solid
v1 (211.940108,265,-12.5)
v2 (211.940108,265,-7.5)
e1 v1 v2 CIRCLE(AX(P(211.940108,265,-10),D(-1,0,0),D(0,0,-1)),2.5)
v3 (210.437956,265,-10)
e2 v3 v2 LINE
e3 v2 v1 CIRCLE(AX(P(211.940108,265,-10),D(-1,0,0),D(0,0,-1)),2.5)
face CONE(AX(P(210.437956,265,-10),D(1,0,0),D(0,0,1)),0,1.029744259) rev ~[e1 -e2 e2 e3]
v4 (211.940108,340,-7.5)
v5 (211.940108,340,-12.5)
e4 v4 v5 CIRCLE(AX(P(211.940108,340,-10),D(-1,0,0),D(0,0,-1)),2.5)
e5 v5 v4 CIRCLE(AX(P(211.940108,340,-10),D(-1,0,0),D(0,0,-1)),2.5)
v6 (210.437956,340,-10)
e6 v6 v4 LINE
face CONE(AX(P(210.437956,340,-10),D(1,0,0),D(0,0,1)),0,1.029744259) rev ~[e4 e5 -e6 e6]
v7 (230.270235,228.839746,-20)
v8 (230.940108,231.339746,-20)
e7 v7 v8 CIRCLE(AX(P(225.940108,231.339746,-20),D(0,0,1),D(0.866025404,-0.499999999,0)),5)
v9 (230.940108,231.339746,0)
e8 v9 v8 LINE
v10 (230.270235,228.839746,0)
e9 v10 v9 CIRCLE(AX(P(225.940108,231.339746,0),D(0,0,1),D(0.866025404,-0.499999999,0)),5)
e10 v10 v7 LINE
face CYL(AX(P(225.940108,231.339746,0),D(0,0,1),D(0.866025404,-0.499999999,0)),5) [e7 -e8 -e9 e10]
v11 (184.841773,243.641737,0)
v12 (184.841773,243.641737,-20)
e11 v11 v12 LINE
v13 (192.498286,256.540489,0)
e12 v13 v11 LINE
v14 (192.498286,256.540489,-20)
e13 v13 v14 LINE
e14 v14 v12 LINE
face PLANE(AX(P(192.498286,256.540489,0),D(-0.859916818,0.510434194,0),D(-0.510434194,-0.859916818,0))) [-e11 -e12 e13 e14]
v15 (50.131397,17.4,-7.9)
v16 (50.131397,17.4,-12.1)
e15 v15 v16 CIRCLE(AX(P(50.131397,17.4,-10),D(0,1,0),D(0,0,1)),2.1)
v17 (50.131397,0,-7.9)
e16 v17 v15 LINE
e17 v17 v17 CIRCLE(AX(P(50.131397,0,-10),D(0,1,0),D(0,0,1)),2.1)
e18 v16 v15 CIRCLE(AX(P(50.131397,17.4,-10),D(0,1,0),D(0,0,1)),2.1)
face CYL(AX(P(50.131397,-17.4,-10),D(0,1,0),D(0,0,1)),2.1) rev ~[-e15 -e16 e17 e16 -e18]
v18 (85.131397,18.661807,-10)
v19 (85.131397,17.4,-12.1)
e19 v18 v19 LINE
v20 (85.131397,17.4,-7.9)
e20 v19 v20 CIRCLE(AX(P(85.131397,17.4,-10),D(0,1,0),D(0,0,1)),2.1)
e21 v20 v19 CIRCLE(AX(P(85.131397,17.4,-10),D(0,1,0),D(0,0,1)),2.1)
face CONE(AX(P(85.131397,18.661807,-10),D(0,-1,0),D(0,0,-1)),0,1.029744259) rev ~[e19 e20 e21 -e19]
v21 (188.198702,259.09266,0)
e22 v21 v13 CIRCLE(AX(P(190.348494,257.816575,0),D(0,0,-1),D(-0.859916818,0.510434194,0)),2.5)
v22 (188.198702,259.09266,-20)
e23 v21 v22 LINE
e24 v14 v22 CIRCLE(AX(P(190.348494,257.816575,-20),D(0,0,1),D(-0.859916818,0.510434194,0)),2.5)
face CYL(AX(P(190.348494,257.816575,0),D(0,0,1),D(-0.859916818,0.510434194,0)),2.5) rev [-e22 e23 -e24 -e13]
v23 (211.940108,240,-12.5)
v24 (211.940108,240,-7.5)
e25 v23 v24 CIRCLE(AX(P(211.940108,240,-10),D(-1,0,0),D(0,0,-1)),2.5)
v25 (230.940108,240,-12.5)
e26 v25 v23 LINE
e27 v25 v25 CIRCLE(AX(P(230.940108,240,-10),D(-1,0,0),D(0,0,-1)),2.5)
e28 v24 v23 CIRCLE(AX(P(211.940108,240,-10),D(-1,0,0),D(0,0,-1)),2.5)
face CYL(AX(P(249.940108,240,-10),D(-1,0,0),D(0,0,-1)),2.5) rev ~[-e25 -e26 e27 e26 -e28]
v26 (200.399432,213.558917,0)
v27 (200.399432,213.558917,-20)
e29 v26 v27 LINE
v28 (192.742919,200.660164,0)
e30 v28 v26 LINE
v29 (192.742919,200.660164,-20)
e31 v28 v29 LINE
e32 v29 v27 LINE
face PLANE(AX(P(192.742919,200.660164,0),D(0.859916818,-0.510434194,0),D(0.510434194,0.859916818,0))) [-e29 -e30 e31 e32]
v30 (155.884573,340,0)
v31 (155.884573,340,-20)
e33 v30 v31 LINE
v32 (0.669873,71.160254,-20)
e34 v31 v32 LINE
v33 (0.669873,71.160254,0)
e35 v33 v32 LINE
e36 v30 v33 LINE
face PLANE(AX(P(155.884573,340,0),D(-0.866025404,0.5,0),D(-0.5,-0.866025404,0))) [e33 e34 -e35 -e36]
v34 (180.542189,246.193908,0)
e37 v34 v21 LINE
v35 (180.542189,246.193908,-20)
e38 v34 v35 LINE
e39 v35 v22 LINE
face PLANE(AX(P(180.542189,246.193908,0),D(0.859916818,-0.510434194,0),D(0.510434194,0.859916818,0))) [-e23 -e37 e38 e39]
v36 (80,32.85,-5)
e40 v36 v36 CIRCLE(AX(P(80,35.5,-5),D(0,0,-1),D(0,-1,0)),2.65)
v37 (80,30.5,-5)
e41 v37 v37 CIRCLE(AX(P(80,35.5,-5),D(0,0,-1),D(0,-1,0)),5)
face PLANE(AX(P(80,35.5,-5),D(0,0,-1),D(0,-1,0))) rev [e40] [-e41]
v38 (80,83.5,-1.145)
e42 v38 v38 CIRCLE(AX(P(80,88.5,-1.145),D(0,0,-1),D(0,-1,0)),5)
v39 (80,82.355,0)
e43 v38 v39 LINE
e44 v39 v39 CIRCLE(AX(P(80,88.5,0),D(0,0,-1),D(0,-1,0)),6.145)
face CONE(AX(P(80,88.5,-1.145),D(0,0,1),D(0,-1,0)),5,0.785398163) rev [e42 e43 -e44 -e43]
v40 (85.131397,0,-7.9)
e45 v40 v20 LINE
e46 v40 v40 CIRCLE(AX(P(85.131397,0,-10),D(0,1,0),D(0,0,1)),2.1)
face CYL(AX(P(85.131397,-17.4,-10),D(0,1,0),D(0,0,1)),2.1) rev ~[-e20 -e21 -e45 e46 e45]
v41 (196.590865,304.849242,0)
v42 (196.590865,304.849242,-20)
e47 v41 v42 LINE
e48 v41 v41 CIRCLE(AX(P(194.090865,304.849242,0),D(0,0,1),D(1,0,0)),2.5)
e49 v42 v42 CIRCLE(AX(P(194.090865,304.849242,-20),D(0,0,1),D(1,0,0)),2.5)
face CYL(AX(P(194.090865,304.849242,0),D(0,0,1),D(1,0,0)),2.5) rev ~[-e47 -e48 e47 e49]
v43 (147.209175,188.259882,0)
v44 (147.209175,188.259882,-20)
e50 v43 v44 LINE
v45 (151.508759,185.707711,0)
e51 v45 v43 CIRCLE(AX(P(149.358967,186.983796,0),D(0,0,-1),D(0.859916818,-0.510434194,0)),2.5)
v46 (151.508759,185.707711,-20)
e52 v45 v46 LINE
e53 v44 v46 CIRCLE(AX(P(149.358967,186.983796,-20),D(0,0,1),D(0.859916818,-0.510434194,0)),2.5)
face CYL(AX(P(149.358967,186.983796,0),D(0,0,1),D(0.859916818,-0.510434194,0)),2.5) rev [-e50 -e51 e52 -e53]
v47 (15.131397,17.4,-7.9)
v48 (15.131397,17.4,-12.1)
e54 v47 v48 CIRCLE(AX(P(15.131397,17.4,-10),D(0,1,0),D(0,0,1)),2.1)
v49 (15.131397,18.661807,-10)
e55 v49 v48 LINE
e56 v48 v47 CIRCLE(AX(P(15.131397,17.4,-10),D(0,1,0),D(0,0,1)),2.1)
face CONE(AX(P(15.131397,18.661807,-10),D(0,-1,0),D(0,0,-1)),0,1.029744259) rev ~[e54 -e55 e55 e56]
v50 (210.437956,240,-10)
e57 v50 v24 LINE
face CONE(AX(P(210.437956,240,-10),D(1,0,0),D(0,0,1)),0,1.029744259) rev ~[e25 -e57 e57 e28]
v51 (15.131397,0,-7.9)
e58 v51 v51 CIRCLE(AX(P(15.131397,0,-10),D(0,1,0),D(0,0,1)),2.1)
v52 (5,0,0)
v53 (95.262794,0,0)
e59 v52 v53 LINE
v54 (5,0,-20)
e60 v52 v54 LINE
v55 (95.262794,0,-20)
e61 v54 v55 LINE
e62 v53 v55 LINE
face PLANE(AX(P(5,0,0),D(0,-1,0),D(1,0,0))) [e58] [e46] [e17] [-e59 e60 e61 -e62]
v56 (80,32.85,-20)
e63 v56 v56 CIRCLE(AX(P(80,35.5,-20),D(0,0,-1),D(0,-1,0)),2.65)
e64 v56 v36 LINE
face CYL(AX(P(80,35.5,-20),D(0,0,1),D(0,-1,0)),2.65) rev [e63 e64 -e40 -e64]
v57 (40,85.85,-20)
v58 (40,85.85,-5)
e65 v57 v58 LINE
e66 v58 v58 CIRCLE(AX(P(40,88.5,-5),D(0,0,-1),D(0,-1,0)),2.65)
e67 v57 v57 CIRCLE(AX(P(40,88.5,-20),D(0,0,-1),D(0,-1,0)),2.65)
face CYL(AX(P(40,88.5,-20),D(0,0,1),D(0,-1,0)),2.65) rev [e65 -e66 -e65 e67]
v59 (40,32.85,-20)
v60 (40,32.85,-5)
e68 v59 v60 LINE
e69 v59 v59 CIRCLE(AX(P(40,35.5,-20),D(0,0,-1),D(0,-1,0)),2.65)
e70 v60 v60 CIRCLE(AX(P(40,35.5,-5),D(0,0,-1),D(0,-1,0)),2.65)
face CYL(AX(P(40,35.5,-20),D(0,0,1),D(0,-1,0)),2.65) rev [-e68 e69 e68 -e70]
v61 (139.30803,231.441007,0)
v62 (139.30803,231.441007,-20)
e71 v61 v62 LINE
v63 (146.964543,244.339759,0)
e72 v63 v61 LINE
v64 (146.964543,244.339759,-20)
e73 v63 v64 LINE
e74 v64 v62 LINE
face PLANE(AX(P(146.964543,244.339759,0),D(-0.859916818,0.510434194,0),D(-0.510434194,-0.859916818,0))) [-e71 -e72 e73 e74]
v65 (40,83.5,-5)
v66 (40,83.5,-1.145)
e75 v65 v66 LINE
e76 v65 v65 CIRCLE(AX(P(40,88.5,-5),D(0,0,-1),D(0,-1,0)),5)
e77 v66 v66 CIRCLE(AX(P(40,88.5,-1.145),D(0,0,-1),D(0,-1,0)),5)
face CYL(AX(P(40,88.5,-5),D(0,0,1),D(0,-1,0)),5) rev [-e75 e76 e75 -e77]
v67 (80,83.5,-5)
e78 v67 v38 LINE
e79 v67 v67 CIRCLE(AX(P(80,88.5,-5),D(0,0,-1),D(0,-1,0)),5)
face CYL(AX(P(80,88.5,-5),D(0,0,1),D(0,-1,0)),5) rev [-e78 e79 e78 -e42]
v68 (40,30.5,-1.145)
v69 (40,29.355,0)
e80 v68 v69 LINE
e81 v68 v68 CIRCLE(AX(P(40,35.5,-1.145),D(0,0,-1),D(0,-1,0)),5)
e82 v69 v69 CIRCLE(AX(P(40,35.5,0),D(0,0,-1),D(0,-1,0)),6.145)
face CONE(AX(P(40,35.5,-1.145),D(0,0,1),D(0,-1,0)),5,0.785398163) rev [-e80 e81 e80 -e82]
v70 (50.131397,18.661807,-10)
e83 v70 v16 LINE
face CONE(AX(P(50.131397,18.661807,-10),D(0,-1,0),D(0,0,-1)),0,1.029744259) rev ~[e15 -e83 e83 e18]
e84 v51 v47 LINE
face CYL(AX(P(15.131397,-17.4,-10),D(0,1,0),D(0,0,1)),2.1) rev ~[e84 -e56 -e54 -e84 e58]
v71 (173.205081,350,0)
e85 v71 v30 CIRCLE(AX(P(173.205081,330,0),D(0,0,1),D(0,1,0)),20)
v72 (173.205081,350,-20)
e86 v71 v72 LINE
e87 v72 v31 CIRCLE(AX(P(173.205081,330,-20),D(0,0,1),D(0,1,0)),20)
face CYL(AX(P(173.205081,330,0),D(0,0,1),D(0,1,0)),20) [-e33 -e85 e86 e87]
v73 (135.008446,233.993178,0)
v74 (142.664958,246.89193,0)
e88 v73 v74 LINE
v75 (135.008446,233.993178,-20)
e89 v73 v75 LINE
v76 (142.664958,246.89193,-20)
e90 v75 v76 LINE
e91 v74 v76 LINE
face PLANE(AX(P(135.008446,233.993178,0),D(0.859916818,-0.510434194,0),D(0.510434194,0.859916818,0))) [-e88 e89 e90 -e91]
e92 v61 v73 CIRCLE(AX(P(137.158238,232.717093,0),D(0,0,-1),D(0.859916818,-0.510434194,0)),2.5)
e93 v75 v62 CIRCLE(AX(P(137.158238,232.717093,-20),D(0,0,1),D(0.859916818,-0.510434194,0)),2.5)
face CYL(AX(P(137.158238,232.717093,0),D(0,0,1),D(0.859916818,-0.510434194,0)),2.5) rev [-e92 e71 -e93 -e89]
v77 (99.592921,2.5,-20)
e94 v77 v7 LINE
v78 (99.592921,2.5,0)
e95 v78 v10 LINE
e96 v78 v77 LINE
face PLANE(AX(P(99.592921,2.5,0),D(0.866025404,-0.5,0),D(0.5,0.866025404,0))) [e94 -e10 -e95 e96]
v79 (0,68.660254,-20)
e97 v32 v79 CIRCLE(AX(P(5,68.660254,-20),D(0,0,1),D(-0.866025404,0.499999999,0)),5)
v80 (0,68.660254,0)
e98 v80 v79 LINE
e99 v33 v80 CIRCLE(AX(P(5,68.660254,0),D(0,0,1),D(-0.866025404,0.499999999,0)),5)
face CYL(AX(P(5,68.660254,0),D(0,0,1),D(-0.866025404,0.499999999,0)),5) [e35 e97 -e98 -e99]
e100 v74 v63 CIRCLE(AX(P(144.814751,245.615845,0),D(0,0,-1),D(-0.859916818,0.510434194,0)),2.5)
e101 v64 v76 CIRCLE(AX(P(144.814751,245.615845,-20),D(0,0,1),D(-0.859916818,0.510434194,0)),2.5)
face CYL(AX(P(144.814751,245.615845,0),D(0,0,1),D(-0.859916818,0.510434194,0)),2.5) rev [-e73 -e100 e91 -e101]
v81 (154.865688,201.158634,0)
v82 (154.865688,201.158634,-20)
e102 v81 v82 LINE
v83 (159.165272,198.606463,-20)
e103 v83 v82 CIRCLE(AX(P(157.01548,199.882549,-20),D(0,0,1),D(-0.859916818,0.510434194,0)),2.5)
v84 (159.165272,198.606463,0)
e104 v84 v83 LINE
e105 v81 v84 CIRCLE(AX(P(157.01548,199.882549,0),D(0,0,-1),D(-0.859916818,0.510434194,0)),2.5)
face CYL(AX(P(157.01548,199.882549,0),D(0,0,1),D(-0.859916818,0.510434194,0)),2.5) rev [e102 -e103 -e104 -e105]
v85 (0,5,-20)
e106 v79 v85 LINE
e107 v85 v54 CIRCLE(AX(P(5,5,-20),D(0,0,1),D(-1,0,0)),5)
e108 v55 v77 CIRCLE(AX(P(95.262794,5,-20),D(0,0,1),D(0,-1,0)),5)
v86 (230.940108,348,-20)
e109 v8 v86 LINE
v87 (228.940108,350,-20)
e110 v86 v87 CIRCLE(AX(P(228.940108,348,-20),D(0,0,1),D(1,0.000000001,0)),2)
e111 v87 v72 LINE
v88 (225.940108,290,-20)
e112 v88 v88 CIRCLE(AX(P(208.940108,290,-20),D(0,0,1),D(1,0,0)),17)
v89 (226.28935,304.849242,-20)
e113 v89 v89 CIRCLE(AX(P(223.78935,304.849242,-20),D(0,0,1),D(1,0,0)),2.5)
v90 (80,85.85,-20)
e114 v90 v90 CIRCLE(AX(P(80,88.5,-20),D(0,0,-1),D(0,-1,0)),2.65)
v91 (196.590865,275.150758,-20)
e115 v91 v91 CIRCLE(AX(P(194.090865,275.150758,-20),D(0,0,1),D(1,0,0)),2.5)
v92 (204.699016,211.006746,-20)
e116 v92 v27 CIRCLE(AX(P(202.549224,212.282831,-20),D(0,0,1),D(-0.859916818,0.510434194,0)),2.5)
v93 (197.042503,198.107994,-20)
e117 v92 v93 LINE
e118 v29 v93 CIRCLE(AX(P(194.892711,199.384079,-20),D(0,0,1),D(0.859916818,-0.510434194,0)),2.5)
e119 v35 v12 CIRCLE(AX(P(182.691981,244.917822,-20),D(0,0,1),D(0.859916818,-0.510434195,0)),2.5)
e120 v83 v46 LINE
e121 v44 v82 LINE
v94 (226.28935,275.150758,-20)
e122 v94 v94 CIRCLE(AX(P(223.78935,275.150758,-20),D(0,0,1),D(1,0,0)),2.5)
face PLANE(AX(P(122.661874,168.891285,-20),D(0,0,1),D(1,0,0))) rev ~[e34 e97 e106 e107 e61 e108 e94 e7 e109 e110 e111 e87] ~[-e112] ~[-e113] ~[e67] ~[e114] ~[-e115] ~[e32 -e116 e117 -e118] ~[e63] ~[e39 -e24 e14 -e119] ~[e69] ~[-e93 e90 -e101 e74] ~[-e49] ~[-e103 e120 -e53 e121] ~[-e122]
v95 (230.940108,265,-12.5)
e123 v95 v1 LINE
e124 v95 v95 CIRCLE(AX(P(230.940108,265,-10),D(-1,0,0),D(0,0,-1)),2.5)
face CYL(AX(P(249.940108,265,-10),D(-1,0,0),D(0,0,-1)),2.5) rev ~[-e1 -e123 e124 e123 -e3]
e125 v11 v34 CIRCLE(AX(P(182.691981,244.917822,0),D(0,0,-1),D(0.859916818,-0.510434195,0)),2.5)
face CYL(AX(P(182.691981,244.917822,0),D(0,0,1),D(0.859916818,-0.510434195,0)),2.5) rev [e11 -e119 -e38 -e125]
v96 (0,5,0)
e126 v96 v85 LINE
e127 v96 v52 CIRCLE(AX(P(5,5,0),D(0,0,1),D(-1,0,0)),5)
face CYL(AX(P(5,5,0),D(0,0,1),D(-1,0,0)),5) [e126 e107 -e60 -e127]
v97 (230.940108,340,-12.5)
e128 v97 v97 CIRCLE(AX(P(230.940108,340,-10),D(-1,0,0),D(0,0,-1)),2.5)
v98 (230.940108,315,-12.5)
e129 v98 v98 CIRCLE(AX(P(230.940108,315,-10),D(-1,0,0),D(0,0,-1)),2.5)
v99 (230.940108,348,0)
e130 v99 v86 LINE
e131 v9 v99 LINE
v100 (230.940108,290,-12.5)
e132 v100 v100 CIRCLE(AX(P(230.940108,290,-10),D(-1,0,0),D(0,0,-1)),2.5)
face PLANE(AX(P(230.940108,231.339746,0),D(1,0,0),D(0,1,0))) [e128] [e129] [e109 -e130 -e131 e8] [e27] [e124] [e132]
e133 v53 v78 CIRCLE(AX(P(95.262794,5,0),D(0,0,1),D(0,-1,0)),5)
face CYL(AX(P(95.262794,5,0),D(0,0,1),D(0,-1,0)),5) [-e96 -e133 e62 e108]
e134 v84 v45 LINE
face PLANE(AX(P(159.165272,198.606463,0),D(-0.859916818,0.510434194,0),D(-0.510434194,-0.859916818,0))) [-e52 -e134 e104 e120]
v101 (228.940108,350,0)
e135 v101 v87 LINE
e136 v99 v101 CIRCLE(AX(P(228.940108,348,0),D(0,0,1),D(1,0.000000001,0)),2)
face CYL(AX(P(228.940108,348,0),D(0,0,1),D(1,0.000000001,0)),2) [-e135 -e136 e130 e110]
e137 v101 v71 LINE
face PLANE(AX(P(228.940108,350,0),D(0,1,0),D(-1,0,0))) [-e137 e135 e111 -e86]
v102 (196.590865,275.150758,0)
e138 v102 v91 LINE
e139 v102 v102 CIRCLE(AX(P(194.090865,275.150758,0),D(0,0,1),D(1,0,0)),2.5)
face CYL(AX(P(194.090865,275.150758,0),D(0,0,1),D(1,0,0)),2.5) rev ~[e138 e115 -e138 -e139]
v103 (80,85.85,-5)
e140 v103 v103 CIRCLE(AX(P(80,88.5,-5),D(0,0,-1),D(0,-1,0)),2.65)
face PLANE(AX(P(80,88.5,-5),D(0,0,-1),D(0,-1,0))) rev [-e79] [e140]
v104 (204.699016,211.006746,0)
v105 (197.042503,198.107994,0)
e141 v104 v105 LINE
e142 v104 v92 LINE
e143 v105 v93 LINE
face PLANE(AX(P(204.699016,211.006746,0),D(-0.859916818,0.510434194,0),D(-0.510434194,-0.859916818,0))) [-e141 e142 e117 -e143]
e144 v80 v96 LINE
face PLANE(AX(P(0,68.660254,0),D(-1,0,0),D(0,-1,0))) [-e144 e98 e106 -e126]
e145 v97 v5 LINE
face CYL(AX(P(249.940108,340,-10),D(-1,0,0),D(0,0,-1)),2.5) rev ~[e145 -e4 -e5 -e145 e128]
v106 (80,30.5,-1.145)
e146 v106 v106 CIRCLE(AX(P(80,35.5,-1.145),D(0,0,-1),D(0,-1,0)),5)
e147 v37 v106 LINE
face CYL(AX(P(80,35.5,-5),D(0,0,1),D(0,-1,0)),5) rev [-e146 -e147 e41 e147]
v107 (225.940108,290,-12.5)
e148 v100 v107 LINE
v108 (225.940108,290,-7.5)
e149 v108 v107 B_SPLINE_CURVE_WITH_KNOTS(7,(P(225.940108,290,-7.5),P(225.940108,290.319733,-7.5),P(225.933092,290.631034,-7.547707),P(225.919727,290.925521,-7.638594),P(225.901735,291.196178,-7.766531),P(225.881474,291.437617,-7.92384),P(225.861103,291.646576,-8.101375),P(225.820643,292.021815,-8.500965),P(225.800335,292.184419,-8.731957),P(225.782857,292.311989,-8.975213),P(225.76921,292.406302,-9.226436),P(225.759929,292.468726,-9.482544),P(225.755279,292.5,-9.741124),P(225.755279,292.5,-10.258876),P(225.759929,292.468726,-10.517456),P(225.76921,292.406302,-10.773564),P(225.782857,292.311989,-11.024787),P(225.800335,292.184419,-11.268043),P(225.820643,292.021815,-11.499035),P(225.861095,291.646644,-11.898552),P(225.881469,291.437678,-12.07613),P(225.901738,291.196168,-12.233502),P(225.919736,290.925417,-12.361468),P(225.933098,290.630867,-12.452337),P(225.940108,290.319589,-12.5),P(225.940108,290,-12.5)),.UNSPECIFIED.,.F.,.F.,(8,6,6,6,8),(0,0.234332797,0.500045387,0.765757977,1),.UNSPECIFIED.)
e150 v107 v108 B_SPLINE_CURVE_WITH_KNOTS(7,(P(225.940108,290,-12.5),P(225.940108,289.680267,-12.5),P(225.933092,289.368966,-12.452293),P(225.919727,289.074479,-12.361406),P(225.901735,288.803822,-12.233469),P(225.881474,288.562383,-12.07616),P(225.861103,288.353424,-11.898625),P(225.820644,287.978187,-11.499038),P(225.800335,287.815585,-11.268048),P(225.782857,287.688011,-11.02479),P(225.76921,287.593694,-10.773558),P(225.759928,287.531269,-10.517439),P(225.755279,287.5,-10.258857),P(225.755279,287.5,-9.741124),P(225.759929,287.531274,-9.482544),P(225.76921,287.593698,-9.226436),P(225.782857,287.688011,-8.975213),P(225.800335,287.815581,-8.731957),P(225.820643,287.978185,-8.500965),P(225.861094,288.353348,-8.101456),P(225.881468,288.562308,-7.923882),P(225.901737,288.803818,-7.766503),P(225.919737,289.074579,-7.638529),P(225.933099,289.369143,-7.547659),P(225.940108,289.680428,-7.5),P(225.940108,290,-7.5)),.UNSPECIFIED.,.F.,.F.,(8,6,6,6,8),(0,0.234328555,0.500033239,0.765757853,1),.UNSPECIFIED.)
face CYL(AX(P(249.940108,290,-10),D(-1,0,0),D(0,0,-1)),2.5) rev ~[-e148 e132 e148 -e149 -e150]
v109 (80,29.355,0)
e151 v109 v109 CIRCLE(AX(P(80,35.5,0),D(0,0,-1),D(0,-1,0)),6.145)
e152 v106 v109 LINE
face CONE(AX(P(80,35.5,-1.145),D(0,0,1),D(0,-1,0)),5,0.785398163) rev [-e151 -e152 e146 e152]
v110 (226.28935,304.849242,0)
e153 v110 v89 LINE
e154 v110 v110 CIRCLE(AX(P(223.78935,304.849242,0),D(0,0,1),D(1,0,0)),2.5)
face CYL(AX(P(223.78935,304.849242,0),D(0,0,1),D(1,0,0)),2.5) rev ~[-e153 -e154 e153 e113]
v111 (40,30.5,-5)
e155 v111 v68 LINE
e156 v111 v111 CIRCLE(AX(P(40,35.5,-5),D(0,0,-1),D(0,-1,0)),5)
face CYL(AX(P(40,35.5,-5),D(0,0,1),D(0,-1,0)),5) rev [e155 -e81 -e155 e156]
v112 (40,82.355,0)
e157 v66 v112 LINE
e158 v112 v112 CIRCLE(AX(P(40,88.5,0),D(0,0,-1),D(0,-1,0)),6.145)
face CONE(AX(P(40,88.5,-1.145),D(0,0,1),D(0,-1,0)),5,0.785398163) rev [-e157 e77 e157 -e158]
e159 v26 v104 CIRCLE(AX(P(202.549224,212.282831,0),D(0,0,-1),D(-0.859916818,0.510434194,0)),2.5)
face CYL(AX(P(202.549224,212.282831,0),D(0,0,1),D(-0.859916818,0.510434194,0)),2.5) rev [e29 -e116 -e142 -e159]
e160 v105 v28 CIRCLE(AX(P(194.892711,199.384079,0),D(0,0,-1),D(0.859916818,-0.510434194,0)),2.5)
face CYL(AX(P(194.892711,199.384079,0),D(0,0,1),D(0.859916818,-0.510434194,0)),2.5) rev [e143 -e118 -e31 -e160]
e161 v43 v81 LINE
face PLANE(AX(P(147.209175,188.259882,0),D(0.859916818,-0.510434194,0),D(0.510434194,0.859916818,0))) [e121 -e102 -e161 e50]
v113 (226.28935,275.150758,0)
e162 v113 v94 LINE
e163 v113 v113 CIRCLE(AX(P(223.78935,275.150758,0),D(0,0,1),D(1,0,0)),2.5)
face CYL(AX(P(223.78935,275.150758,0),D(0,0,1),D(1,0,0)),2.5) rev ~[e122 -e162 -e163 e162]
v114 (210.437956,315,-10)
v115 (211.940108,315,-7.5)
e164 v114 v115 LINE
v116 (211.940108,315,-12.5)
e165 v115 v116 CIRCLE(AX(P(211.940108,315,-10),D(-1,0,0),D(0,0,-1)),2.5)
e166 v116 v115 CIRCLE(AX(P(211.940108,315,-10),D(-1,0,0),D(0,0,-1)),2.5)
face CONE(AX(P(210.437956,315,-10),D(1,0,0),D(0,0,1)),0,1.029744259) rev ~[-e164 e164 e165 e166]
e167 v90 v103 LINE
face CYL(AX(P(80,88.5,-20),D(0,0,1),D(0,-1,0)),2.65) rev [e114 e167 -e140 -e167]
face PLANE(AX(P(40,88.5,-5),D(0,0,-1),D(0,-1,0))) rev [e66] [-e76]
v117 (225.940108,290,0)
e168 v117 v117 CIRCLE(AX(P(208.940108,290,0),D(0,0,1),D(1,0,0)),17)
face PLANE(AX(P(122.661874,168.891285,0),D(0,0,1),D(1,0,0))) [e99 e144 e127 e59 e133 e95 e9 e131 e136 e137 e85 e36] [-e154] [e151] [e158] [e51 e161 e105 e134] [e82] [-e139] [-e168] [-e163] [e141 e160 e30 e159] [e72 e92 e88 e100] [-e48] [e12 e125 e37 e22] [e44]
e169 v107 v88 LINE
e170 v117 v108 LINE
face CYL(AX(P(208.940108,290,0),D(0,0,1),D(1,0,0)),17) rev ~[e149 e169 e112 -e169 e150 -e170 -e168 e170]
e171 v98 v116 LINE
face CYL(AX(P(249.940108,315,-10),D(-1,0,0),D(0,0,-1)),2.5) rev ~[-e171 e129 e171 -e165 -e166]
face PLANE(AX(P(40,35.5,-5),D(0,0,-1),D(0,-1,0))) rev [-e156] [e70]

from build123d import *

# Parameters (mm, degrees)
SCHIZZO1_R                    = 17
SCHIZZO1_R_2                  = 2.5
ESTRUSIONE_ESTRUSIONE2_DEPTH  = 20
M5_TAPPED_HOLE1_D             = 4.2
M5_TAPPED_HOLE1_DEPTH         = 17.4
M5_TAPPED_HOLE1_TIP           = 1.2618073
CBORE_FOR_M5_SHCS1_AT_2_COUNT = 2
CBORE_FOR_M5_SHCS1_AT_2_PITCH = 53
CBORE_FOR_M5_SHCS1_AT_3_COUNT = 2
CBORE_FOR_M5_SHCS1_AT_3_PITCH = 66.400301204
CBORE_FOR_M5_SHCS1_AT_4_COUNT = 2
CBORE_FOR_M5_SHCS1_AT_4_PITCH = 40
M6_TAPPED_HOLE1_D             = 5
M6_TAPPED_HOLE1_DEPTH         = 19
M6_TAPPED_HOLE1_TIP           = 1.502151548
CUT_EXTRUDE1_DEPTH            = 420.801540473


with BuildPart() as part:
    # Schizzo1 → Estrusione-Estrusione2 (new body)
    with BuildSketch(Plane.XY):
        with BuildLine():
            Line((5, 0), (95.262794416, 0))
            ThreePointArc((95.262794416, 0), (97.762794416, 0.669872981), (99.592921435, 2.5))
            Line((99.592921435, 2.5), (230.270234695, 228.839745962))
            ThreePointArc((230.270234695, 228.839745962), (230.769736807, 230.045650737), (230.940107676, 231.339745962))
            Line((230.940107676, 231.339745962), (230.940107676, 348))
            ThreePointArc((230.940107676, 348), (230.354321238, 349.414213562), (228.940107676, 350))
            Line((228.940107676, 350), (173.205080757, 350))
            ThreePointArc((173.205080757, 350), (163.205080757, 347.320508076), (155.884572681, 340))
            Line((155.884572681, 340), (0.669872981, 71.160254038))
            ThreePointArc((0.669872981, 71.160254038), (0.170370869, 69.954349263), (0, 68.660254038))
            Line((0, 68.660254038), (0, 5))
            ThreePointArc((0, 5), (1.464466094, 1.464466094), (5, 0))
        make_face()
        with Locations((208.940107676, 290)):
            Circle(SCHIZZO1_R, mode=Mode.SUBTRACT)
        with Locations((223.789350081, 304.849242405)):
            Circle(SCHIZZO1_R_2, mode=Mode.SUBTRACT)
        with Locations((223.789350081, 275.150757595)):
            Circle(SCHIZZO1_R_2, mode=Mode.SUBTRACT)
        with Locations((194.090865271, 275.150757595)):
            Circle(SCHIZZO1_R_2, mode=Mode.SUBTRACT)
        with Locations((194.090865271, 304.849242405)):
            Circle(SCHIZZO1_R_2, mode=Mode.SUBTRACT)
    extrude(amount=-ESTRUSIONE_ESTRUSIONE2_DEPTH)

    # M5 Tapped Hole1
    with Locations(Plane(origin=(50.131397208, 0, -10), x_dir=(0, 0, -1), z_dir=(0, -1, 0))):
        with Locations((0, 0), (0, 35), (0, -35)):
            Hole(M5_TAPPED_HOLE1_D / 2, depth=M5_TAPPED_HOLE1_DEPTH)
            with Locations((0, 0, -(M5_TAPPED_HOLE1_DEPTH + M5_TAPPED_HOLE1_TIP / 2))):  # 118° drill point
                Cone(0, M5_TAPPED_HOLE1_D / 2, M5_TAPPED_HOLE1_TIP, mode=Mode.SUBTRACT)

    # Sketch5 → CBORE for M5 SHCS1 (revolve, cut)
    with BuildSketch(Plane(origin=(80, 88.5, 0), x_dir=(0, -1, 0), z_dir=(1, 0, 0))):
        Polygon((0, 0), (0, 20), (2.65, 20), (2.65, 5), (5, 5), (5, 1.145), (6.145, 0), align=None)
    cbore_for_m5_shcs1 = revolve(axis=Axis((80, 88.5, 6.35), (0, 0, -1)), mode=Mode.SUBTRACT)

    # CBORE for M5 SHCS1 at 2: CBORE for M5 SHCS1 ×2
    with Locations(*[(0, -i * CBORE_FOR_M5_SHCS1_AT_2_PITCH, 0) for i in range(1, CBORE_FOR_M5_SHCS1_AT_2_COUNT)]):
        add(cbore_for_m5_shcs1, mode=Mode.SUBTRACT)

    # CBORE for M5 SHCS1 at 3: CBORE for M5 SHCS1 ×2
    with Locations(*[Vector(-0.6024069059118463, -0.7981891503332503, 0) * (i * CBORE_FOR_M5_SHCS1_AT_3_PITCH) for i in range(1, CBORE_FOR_M5_SHCS1_AT_3_COUNT)]):
        add(cbore_for_m5_shcs1, mode=Mode.SUBTRACT)

    # CBORE for M5 SHCS1 at 4: CBORE for M5 SHCS1 ×2
    with Locations(*[(-i * CBORE_FOR_M5_SHCS1_AT_4_PITCH, 0, 0) for i in range(1, CBORE_FOR_M5_SHCS1_AT_4_COUNT)]):
        add(cbore_for_m5_shcs1, mode=Mode.SUBTRACT)

    # M6 Tapped Hole1
    with Locations(Plane(origin=(230.940107676, 340, -10), x_dir=(0, 0, 1), z_dir=(1, 0, 0))):
        with Locations((0, 0), (0, 25), (0, 50), (0, 75), (0, 100)):
            Hole(M6_TAPPED_HOLE1_D / 2, depth=M6_TAPPED_HOLE1_DEPTH)
            with Locations((0, 0, -(M6_TAPPED_HOLE1_DEPTH + M6_TAPPED_HOLE1_TIP / 2))):  # 118° drill point
                Cone(0, M6_TAPPED_HOLE1_D / 2, M6_TAPPED_HOLE1_TIP, mode=Mode.SUBTRACT)

    # Sketch19 → Cut-Extrude1 (cut, through all)
    with BuildSketch(Plane.XY):
        with BuildLine():
            Line((180.542189015, 246.193907945), (188.198701931, 259.092660209))
            ThreePointArc((188.198701931, 259.092660209), (191.624579461, 259.966366767), (192.498286019, 256.540489237))
            Line((192.498286019, 256.540489237), (184.841773104, 243.641736973))
            ThreePointArc((184.841773104, 243.641736973), (181.415895574, 242.768030415), (180.542189015, 246.193907945))
        make_face()
        with BuildLine():
            Line((192.742918802, 200.660164494), (200.399431717, 213.558916758))
            ThreePointArc((200.399431717, 213.558916758), (203.825309247, 214.432623316), (204.699015805, 211.006745786))
            Line((204.699015805, 211.006745786), (197.04250289, 198.107993522))
            ThreePointArc((197.04250289, 198.107993522), (193.61662536, 197.234286964), (192.742918802, 200.660164494))
        make_face()
        with BuildLine():
            Line((147.20917535, 188.259881903), (154.865688266, 201.158634167))
            ThreePointArc((154.865688266, 201.158634167), (158.291565796, 202.032340725), (159.165272354, 198.606463195))
            Line((159.165272354, 198.606463195), (151.508759438, 185.707710931))
            ThreePointArc((151.508759438, 185.707710931), (148.082881908, 184.834004373), (147.20917535, 188.259881903))
        make_face()
        with BuildLine():
            Line((135.008445564, 233.993178159), (142.66495848, 246.891930423))
            ThreePointArc((142.66495848, 246.891930423), (146.09083601, 247.765636981), (146.964542568, 244.339759451))
            Line((146.964542568, 244.339759451), (139.308029652, 231.441007187))
            ThreePointArc((139.308029652, 231.441007187), (135.882152122, 230.567300629), (135.008445564, 233.993178159))
        make_face()
    extrude(amount=-CUT_EXTRUDE1_DEPTH, mode=Mode.SUBTRACT)


solid = part.part
